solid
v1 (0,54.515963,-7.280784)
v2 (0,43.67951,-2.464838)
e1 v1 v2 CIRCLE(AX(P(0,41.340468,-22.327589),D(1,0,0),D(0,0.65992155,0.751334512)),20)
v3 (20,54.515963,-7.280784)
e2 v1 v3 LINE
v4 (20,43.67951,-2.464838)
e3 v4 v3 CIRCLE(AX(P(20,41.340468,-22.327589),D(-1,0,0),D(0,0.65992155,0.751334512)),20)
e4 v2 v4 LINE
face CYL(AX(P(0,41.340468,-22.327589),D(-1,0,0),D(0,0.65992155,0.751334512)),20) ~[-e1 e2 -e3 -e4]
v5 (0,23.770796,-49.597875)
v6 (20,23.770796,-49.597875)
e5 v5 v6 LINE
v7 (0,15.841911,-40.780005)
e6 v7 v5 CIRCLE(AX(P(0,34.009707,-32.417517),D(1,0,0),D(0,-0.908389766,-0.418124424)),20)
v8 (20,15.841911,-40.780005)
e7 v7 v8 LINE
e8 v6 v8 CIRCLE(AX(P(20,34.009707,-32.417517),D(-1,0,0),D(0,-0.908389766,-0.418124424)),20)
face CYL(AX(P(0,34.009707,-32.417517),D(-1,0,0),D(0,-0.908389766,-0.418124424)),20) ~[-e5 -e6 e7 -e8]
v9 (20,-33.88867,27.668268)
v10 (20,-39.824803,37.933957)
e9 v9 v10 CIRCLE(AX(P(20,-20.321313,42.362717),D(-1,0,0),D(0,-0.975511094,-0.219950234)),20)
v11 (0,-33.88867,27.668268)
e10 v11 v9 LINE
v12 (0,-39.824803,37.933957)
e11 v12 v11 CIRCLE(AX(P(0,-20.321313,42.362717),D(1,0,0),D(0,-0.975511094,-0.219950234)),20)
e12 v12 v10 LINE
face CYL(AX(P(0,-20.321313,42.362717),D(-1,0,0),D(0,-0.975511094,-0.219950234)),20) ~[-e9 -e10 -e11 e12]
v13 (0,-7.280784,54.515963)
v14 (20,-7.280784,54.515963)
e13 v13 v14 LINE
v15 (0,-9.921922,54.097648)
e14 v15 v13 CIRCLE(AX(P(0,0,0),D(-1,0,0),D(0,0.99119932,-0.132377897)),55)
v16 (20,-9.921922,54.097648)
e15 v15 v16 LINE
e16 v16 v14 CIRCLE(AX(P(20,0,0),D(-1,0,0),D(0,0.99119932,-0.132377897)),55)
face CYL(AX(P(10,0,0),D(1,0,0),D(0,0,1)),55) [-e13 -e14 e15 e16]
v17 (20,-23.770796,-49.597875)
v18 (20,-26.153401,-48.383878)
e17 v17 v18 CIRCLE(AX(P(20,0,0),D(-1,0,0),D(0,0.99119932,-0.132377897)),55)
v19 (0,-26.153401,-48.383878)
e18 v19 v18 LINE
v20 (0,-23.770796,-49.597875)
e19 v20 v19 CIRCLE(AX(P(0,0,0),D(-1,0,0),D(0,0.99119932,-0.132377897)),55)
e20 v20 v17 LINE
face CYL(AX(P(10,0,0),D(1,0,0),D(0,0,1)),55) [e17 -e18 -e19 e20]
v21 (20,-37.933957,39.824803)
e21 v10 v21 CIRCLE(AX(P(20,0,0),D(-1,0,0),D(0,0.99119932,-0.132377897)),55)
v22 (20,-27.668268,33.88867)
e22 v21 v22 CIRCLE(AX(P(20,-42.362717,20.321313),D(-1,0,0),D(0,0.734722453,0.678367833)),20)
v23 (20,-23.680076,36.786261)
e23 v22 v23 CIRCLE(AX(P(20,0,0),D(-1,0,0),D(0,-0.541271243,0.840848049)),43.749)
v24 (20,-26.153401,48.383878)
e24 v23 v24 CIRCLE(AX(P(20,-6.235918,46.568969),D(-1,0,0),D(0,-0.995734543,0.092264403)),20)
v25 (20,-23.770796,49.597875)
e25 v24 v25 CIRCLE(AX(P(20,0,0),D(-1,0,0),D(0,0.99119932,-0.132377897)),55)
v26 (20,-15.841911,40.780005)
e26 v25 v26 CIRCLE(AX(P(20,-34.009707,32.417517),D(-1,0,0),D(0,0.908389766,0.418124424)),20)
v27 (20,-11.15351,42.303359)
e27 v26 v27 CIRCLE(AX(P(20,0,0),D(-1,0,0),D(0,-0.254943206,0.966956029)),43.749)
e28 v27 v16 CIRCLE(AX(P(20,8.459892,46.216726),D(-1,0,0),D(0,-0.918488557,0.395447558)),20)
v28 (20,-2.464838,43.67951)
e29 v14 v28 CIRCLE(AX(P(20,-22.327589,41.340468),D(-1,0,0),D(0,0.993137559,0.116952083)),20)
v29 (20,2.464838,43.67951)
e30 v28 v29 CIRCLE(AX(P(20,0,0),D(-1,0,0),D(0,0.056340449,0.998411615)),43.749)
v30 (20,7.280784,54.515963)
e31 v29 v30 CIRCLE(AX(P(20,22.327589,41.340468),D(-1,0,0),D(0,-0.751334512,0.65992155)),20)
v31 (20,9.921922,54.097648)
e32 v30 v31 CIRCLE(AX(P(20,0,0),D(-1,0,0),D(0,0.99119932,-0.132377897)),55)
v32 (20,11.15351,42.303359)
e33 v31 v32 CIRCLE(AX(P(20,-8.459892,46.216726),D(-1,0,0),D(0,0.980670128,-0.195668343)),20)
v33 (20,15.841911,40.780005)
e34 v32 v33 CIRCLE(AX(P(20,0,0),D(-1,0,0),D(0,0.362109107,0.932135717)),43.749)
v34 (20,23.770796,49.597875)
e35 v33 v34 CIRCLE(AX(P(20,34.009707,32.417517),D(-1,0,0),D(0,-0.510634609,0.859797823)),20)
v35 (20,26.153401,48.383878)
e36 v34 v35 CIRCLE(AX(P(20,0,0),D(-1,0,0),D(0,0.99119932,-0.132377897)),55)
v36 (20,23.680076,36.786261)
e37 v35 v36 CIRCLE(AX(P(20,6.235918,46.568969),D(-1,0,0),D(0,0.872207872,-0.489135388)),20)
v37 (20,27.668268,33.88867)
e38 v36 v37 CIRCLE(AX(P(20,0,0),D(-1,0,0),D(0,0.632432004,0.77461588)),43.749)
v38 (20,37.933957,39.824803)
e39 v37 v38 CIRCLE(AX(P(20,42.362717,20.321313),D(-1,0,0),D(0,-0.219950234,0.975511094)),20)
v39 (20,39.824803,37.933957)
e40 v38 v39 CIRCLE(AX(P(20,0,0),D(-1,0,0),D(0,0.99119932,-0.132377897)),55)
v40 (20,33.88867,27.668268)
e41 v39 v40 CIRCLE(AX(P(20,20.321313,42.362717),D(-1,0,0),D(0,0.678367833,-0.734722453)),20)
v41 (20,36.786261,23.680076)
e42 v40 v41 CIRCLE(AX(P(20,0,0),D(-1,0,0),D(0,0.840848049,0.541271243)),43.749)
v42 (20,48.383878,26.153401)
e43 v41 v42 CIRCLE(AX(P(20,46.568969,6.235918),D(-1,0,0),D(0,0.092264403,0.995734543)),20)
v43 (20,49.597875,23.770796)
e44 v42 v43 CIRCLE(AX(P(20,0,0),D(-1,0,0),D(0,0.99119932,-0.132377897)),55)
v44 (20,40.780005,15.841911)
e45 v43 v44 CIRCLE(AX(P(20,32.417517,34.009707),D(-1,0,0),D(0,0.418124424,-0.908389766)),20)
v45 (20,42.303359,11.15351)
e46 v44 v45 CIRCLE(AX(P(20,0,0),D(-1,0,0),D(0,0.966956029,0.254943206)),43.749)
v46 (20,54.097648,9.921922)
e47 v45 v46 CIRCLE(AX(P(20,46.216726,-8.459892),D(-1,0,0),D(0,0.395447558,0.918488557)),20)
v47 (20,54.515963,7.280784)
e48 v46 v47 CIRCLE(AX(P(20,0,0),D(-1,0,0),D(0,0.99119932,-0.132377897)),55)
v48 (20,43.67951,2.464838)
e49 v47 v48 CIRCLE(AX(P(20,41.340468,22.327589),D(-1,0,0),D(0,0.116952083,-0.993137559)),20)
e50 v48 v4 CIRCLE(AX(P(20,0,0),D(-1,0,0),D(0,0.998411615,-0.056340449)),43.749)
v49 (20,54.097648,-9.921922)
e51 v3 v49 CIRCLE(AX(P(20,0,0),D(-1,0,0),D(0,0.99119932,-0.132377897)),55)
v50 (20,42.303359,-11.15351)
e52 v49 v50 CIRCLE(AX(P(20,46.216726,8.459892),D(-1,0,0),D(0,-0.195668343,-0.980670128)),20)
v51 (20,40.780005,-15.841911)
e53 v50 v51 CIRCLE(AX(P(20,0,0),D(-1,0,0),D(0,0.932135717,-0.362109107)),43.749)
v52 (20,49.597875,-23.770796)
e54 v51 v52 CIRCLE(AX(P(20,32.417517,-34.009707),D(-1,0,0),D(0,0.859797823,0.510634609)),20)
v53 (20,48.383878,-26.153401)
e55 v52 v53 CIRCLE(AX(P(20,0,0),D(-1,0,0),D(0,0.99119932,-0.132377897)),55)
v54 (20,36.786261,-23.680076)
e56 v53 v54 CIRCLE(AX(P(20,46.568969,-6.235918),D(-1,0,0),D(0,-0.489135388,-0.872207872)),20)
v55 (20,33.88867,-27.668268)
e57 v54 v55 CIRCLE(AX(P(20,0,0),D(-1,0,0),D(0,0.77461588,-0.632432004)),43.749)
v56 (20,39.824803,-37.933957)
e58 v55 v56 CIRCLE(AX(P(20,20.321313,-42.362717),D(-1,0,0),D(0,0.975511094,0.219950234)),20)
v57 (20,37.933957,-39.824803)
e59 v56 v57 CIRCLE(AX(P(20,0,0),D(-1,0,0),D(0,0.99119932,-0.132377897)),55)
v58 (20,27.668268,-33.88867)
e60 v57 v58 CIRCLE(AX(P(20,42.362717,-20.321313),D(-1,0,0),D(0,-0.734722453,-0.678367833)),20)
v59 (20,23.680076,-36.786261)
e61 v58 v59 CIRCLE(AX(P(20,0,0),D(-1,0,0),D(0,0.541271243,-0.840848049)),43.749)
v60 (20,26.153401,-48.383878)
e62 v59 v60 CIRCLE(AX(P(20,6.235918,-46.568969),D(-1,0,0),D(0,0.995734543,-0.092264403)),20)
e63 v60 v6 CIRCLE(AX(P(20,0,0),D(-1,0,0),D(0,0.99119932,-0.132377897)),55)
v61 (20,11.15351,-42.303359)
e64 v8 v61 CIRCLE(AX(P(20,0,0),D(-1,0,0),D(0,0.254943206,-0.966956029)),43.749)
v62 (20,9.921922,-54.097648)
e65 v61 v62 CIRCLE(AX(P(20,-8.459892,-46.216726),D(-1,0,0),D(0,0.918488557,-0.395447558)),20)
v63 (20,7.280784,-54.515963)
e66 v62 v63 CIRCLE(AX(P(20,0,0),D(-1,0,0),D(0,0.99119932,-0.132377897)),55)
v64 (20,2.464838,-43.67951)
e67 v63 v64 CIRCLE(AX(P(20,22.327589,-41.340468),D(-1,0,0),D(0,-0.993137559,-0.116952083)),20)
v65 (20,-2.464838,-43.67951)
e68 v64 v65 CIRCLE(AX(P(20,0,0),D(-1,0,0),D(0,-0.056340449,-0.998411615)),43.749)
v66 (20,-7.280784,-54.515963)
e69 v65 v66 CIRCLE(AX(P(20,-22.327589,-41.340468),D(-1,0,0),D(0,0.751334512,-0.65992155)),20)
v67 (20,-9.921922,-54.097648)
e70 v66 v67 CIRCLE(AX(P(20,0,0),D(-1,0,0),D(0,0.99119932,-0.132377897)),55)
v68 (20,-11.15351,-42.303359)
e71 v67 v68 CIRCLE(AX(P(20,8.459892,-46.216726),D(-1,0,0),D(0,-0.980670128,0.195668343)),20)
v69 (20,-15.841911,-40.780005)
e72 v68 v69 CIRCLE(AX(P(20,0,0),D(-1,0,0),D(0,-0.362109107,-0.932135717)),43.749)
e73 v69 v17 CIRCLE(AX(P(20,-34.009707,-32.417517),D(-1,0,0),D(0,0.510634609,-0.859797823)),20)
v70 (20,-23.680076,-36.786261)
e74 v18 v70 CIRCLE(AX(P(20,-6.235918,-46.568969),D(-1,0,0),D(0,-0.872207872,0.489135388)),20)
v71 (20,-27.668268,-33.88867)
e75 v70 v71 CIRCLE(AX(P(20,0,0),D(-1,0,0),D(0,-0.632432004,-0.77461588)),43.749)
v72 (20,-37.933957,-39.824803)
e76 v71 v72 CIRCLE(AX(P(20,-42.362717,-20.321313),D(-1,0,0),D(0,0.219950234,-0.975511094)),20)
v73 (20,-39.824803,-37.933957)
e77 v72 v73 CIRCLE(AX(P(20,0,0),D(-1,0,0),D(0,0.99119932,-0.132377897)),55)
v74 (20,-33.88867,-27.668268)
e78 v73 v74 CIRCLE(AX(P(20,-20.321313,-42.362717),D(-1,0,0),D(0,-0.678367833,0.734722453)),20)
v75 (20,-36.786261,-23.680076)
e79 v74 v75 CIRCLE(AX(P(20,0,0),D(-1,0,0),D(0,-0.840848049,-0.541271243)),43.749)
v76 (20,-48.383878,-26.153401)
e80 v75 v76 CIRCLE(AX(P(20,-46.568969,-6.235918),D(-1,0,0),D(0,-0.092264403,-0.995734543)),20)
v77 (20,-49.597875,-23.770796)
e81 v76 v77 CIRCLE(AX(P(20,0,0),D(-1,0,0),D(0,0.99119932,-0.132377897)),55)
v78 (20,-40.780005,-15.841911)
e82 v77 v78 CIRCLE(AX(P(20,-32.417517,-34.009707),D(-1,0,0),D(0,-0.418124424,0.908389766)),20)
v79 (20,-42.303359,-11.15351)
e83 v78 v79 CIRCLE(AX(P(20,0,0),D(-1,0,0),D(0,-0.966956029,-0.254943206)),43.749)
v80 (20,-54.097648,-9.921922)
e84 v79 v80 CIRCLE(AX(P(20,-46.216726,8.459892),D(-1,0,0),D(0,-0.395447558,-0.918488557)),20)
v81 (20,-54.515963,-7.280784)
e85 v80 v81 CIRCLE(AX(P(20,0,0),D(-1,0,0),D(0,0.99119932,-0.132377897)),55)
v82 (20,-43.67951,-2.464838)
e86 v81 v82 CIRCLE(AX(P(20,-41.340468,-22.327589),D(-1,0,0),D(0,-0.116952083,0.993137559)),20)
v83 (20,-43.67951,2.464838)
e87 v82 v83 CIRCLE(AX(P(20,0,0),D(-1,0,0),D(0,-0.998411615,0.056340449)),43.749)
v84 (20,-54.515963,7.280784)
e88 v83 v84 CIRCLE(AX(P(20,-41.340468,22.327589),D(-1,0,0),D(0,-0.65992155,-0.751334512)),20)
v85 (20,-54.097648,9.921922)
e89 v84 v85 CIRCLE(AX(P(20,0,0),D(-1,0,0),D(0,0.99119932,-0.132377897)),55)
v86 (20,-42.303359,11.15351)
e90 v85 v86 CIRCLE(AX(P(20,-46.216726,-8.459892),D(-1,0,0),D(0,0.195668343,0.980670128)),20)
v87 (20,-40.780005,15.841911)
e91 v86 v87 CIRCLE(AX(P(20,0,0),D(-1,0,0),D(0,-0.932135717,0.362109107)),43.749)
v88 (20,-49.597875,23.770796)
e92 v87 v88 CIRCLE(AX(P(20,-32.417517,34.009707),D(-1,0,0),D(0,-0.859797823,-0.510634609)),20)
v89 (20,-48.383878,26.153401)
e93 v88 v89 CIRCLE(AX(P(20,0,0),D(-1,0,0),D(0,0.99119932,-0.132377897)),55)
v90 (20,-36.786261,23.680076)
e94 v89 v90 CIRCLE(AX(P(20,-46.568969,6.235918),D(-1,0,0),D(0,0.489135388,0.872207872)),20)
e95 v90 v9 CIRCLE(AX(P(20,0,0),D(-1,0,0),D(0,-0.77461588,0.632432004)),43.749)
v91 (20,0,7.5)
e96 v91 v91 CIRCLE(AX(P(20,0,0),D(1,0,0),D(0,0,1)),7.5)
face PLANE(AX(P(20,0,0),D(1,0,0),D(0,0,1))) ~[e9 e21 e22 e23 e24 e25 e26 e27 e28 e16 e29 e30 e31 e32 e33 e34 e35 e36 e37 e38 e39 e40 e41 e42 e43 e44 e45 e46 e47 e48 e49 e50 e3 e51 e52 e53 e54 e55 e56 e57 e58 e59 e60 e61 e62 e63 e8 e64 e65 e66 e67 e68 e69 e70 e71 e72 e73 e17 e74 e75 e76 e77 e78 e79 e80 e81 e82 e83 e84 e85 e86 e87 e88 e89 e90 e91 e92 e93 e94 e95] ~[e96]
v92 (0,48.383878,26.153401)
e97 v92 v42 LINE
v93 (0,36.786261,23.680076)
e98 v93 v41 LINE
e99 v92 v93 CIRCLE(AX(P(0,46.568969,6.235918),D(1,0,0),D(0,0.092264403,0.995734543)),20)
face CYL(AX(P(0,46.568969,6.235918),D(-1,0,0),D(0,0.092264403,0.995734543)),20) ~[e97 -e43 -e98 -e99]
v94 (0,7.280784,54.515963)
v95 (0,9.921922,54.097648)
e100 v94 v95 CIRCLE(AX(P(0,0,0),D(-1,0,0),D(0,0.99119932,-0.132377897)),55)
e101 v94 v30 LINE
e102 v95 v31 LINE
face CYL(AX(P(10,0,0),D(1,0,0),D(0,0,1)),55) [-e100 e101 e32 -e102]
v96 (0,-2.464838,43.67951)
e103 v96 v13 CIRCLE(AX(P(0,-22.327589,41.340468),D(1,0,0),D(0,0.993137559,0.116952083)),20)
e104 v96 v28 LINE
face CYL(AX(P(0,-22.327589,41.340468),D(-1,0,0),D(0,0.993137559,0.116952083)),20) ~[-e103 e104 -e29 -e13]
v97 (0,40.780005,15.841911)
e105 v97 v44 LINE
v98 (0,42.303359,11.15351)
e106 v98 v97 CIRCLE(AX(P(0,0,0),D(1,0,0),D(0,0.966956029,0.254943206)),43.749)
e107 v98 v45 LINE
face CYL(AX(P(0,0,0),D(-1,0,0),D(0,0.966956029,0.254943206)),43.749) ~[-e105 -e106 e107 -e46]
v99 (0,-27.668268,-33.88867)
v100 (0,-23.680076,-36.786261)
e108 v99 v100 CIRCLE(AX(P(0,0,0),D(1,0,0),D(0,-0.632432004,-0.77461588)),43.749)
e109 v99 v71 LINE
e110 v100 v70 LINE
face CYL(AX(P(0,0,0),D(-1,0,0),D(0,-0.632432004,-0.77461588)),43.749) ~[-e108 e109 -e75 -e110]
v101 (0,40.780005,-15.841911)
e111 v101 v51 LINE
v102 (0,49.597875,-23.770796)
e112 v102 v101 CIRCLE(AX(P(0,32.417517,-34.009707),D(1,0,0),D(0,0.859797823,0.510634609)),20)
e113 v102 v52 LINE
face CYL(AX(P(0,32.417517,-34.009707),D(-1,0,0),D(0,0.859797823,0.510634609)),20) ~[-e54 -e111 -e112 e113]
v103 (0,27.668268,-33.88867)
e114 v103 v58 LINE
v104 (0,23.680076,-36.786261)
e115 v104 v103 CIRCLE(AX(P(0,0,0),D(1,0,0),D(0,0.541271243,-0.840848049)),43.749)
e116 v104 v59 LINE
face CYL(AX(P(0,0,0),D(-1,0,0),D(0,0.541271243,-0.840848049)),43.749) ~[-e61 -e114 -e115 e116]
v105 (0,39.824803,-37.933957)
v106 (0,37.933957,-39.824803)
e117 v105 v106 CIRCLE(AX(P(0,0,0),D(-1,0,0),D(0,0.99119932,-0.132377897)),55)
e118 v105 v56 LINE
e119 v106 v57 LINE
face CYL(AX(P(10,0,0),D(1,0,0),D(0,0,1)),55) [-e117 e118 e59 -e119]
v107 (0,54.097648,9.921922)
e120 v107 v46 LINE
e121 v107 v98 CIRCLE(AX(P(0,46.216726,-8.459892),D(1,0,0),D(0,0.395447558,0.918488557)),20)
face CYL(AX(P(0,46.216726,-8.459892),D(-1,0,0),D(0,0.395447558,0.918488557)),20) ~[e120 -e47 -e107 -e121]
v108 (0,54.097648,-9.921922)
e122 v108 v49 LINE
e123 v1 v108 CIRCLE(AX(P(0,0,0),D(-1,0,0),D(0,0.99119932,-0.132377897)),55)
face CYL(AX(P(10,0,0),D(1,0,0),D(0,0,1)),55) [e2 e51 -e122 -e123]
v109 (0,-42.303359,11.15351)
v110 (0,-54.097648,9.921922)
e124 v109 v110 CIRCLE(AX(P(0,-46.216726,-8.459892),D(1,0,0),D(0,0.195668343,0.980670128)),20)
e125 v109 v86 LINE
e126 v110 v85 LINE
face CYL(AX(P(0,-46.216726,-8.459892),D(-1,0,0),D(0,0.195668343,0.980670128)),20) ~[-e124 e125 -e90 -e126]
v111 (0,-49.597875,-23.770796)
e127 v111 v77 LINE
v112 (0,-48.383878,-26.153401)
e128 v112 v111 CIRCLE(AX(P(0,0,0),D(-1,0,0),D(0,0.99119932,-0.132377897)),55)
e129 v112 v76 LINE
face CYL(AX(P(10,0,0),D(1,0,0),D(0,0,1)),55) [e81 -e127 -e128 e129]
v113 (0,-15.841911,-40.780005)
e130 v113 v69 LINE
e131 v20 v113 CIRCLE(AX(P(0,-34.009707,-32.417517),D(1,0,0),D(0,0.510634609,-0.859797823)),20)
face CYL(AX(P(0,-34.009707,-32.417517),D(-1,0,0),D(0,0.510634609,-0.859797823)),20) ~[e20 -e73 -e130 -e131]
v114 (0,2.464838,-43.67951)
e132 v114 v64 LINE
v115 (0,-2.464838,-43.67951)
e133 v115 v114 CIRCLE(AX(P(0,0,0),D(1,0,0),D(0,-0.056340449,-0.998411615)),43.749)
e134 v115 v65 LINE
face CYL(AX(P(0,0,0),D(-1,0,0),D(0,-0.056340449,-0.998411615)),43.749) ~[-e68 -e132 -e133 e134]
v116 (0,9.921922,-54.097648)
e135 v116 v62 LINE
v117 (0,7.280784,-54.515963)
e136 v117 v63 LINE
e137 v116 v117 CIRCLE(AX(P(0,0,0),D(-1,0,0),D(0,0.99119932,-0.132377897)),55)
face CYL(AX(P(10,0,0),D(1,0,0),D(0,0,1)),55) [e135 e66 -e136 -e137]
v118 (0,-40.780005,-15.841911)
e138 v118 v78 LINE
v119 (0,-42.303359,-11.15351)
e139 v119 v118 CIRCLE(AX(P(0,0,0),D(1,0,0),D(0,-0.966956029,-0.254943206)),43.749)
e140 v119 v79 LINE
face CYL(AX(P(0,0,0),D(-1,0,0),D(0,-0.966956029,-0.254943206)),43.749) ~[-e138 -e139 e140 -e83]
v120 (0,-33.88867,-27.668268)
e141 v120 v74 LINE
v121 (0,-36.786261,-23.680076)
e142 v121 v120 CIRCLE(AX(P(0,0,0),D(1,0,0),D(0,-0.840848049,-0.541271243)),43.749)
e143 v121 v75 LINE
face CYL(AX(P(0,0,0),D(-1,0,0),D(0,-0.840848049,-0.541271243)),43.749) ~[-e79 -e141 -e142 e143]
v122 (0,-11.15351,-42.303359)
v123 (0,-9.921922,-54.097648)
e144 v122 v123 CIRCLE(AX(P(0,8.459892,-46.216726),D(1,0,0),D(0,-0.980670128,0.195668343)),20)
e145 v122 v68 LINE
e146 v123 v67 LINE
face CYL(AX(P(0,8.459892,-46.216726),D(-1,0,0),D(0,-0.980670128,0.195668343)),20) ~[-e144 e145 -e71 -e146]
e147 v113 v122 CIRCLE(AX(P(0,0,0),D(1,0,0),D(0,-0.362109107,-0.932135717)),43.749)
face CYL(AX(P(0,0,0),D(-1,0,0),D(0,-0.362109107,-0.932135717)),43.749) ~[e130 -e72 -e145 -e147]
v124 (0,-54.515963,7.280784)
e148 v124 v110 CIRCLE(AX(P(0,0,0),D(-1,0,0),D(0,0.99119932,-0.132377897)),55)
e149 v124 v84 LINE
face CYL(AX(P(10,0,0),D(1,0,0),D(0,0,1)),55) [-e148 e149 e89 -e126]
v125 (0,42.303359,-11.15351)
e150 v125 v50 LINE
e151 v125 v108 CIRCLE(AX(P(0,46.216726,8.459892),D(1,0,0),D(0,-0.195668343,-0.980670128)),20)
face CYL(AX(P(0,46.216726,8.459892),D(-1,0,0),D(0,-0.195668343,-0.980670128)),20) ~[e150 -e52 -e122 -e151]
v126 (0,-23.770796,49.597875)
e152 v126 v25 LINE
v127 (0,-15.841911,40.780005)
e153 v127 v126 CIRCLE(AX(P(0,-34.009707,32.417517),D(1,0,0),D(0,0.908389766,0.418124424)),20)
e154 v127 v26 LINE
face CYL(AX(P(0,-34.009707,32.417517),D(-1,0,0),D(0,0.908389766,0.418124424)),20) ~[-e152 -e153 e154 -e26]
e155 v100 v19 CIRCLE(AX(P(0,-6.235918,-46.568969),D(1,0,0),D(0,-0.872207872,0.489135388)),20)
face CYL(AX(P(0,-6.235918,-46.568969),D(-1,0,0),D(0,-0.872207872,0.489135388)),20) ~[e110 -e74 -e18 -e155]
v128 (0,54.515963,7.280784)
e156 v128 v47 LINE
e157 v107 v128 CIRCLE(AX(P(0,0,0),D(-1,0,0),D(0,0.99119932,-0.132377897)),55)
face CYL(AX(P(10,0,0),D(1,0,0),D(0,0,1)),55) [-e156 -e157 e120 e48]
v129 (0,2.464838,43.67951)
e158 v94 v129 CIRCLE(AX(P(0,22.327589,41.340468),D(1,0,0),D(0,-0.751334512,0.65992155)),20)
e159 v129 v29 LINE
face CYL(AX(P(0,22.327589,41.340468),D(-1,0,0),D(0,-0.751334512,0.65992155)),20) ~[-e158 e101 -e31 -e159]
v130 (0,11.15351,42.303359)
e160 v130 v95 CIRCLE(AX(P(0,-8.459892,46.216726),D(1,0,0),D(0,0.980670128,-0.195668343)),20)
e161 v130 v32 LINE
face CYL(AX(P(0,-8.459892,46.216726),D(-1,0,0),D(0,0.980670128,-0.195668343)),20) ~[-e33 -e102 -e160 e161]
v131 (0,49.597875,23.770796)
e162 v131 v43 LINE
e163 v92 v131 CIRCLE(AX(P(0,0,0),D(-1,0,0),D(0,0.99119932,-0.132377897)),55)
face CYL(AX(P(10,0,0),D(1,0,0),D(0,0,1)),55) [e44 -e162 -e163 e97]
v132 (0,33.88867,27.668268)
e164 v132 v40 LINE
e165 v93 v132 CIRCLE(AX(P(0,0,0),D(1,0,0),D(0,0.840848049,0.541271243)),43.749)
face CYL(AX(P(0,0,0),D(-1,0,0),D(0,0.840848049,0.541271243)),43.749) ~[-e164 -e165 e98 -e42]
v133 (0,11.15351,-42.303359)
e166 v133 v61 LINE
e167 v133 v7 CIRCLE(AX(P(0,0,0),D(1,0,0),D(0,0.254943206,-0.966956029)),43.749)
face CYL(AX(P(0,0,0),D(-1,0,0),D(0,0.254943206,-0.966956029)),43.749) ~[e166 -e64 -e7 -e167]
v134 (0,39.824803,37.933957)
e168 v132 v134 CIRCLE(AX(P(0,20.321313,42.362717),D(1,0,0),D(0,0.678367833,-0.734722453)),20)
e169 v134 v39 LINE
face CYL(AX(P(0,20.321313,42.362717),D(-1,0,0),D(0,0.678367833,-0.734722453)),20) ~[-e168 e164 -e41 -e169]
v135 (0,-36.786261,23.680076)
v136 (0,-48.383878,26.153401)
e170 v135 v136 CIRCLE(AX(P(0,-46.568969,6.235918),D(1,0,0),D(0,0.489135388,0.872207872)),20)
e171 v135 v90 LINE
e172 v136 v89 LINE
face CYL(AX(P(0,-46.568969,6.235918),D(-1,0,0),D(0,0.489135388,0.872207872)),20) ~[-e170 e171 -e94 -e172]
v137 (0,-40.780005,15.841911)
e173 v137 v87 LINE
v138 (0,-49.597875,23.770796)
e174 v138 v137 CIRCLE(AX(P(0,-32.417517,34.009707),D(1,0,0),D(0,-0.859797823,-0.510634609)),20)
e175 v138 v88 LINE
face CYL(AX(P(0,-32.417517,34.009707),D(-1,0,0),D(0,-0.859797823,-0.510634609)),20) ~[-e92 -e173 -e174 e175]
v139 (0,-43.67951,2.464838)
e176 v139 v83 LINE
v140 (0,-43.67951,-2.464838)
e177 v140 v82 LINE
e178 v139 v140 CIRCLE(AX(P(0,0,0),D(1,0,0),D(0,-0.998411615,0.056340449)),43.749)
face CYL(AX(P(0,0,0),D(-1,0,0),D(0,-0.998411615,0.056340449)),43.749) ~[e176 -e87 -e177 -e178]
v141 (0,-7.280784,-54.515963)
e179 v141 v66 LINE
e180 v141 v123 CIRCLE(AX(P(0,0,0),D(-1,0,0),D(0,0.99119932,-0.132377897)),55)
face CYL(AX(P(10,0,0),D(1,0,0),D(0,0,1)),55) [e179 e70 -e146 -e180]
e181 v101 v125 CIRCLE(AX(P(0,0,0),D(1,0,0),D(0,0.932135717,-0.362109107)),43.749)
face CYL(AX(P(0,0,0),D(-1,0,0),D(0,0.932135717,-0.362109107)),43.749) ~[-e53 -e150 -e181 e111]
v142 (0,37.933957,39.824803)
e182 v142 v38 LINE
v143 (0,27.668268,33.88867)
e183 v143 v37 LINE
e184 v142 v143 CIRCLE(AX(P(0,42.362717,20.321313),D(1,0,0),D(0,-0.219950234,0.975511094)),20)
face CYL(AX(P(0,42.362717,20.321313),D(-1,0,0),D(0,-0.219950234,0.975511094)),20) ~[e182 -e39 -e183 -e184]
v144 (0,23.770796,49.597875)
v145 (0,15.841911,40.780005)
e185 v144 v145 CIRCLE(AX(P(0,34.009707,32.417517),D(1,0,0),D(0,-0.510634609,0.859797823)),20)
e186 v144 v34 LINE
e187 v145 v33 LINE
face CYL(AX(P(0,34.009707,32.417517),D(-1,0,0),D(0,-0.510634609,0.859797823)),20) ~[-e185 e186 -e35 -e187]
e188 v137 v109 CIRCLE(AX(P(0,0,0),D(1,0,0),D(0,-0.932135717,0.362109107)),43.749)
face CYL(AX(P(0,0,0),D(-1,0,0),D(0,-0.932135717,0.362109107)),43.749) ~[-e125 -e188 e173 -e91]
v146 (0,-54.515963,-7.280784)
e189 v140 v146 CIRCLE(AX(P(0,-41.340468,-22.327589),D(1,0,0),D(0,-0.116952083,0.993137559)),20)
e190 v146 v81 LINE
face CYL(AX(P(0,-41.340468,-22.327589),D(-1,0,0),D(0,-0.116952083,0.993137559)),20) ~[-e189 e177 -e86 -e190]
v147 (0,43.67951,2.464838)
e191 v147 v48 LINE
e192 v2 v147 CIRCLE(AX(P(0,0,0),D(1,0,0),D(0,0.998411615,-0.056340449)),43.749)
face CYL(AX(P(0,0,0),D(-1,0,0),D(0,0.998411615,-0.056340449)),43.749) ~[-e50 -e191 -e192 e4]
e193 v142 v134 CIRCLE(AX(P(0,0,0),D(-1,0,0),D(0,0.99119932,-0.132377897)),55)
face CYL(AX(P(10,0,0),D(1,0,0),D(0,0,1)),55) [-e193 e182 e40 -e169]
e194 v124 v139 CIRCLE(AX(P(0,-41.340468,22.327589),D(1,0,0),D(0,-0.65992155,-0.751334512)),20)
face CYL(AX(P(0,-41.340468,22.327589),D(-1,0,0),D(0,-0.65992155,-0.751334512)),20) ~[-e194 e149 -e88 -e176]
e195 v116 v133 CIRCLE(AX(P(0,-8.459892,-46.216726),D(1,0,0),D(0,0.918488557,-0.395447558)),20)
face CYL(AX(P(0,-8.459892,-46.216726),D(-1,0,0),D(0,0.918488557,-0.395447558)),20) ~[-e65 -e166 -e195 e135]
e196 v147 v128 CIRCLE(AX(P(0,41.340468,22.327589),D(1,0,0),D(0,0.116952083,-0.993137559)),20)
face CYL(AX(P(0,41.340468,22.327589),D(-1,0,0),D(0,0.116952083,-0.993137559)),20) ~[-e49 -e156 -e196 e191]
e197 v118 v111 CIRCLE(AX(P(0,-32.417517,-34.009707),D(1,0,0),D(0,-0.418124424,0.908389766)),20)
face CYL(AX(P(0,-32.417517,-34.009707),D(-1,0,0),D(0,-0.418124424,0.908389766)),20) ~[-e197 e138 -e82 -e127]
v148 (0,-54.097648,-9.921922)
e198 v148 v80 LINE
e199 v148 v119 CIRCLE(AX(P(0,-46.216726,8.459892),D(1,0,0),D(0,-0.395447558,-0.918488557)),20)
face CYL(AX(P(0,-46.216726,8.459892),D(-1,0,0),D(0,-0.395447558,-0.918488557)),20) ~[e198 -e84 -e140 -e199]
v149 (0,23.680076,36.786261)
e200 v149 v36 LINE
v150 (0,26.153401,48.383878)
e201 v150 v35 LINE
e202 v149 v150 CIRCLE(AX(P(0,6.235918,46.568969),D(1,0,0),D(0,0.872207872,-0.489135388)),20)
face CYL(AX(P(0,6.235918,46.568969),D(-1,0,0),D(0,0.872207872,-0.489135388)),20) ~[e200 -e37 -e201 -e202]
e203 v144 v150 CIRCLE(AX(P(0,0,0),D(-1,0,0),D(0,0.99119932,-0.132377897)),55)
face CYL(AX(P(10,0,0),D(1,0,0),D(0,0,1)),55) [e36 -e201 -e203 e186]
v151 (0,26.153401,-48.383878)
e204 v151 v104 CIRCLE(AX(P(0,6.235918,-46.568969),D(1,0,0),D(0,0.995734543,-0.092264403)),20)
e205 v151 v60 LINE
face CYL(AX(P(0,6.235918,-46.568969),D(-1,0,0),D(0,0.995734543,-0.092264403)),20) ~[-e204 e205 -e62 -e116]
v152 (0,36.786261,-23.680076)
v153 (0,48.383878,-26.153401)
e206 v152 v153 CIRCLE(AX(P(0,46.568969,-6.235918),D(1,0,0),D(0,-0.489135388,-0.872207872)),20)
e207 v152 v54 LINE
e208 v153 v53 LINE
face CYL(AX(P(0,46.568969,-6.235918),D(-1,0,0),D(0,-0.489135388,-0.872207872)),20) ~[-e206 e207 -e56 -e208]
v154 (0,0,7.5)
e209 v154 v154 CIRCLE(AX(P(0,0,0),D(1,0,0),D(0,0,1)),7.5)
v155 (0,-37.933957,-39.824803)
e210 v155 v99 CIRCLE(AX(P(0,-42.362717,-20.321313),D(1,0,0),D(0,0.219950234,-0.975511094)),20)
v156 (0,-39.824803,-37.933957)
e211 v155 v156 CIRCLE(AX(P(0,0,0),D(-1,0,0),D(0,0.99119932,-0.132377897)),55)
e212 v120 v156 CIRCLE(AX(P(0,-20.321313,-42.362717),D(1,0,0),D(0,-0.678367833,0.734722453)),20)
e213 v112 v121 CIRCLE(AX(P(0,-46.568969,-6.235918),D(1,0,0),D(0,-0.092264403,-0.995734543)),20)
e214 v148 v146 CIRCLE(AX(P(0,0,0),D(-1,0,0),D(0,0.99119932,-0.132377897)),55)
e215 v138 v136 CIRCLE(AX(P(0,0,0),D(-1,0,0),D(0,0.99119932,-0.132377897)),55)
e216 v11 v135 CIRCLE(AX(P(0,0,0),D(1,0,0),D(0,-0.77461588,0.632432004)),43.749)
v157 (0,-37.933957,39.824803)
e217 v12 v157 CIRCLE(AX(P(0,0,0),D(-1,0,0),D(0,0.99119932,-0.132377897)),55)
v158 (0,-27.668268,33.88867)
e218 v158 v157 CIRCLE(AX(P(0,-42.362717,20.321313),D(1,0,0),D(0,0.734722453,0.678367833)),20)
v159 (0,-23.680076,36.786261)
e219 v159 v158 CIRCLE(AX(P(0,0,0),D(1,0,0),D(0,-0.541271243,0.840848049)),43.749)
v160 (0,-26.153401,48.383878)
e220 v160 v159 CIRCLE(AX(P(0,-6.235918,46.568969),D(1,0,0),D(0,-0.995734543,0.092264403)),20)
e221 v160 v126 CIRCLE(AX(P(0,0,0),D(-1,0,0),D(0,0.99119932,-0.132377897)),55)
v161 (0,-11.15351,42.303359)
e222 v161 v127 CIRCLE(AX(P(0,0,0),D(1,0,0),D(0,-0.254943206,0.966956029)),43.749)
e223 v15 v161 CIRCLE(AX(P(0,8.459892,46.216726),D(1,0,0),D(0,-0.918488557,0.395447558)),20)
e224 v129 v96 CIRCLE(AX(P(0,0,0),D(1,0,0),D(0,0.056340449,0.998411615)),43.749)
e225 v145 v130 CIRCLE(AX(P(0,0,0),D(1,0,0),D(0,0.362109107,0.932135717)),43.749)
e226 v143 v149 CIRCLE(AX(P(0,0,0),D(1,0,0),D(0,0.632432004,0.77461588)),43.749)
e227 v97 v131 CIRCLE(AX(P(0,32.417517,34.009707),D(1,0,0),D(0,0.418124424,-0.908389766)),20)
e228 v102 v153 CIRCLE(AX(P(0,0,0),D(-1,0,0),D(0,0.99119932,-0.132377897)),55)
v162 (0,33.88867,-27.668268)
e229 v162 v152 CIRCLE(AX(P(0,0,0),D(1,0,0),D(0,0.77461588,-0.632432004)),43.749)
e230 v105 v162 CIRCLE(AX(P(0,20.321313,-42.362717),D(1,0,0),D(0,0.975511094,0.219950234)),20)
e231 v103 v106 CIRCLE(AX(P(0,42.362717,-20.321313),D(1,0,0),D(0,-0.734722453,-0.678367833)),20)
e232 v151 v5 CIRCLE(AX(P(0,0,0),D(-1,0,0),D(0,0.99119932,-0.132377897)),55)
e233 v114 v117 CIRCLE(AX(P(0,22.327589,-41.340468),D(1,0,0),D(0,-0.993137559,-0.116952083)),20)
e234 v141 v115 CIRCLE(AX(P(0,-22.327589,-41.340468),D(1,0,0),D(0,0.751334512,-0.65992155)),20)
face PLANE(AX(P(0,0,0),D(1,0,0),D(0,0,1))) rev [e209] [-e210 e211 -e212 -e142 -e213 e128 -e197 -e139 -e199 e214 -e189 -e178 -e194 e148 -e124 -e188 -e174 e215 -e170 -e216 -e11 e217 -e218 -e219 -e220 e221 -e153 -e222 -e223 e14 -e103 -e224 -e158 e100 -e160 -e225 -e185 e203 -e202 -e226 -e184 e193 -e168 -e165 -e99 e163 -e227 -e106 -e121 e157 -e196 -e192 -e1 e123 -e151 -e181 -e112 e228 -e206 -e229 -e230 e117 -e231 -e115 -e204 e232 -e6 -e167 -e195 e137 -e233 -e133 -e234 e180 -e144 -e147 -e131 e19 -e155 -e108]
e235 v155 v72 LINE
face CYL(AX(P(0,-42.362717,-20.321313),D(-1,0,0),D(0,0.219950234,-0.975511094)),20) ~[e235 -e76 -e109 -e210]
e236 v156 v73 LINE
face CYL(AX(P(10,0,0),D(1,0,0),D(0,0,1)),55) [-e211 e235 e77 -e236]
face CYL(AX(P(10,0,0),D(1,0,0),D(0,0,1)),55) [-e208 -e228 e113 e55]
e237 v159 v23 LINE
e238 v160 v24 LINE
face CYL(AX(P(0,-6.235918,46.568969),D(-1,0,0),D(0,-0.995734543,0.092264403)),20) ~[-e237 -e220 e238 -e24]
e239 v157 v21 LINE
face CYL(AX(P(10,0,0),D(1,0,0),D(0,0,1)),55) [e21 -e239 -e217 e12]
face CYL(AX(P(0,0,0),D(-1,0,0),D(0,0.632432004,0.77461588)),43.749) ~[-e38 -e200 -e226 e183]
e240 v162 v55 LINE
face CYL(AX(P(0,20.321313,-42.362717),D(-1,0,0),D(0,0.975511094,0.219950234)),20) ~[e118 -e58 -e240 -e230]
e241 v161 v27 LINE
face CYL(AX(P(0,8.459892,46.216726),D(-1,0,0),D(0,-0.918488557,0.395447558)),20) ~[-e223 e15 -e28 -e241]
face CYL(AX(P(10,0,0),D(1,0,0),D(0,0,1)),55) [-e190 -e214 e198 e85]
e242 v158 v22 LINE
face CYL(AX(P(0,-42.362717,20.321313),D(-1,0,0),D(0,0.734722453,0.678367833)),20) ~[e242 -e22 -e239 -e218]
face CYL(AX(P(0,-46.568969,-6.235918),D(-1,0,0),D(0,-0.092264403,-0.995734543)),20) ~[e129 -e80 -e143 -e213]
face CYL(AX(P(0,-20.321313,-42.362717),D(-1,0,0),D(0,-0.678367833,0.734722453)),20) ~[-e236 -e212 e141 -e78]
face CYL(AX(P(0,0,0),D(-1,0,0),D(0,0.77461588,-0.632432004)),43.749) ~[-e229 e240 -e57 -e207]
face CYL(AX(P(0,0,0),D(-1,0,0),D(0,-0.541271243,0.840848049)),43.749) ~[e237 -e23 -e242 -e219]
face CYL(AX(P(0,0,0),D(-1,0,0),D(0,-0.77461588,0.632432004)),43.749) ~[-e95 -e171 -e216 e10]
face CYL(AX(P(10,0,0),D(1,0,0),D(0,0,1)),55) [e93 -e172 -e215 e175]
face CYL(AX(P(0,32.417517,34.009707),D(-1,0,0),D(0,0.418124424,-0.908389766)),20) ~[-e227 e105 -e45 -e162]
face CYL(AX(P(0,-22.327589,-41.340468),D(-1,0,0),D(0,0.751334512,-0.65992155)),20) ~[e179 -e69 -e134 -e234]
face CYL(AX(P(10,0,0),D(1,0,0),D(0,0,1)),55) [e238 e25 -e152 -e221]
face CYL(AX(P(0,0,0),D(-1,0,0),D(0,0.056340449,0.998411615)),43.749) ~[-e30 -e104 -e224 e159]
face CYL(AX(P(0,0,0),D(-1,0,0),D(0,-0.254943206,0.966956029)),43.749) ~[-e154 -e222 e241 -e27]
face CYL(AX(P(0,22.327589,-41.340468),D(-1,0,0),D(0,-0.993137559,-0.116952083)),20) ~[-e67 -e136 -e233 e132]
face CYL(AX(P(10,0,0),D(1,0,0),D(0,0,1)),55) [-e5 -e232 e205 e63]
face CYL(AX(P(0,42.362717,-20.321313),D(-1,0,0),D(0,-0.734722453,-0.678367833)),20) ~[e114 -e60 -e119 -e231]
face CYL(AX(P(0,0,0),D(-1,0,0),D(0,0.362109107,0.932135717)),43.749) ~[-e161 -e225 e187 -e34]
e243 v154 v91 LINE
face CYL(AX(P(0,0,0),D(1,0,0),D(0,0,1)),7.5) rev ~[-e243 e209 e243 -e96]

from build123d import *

# Parameters (mm, degrees)
BASPROSKE_W     = 20
BASPROSKE_H     = 55
TOOTHCUT_DEPTH  = 81.311892021
TEETHCUTS_COUNT = 20
TEETHCUTS_ANGLE = 342
BORSKE_R        = 7.5
BORE_DEPTH      = 50.0000508


with BuildPart() as part:
    # BasProSke → Base-Revolve (revolve)
    with BuildSketch(Plane(origin=(0, 0, 0), x_dir=(1, 0, 0), z_dir=(0, 1, 0))):
        with Locations((10, 27.5)):
            Rectangle(BASPROSKE_W, BASPROSKE_H)
    revolve(axis=Axis((-10, 0, 0), (1, 0, 0)))

    # TooCutSke → ToothCut (cut, through all)
    with BuildSketch(Plane(origin=(0, 0, 0), x_dir=(0, 0, -1), z_dir=(1, 0, 0))):
        with BuildLine():
            ThreePointArc((2.464838288, 43.679509764), (0, 43.749), (-2.464838288, 43.679509764))
            ThreePointArc((-2.464838288, 43.679509764), (-4.057398861, 49.476814676), (-7.300899231, 54.538899105))
            ThreePointArc((-7.300899231, 54.538899105), (0, 55.0254), (7.300899231, 54.538899105))
            ThreePointArc((7.300899231, 54.538899105), (4.057398861, 49.476814676), (2.464838288, 43.679509764))
        make_face()
    toothcut = extrude(amount=TOOTHCUT_DEPTH, mode=Mode.SUBTRACT)

    # TeethCuts: ToothCut ×20 about axis
    teethcuts_axis = Axis((-10, 0, 0), (1, 0, 0))
    for i in range(1, TEETHCUTS_COUNT):
        add(toothcut.rotate(teethcuts_axis, i * TEETHCUTS_ANGLE / (TEETHCUTS_COUNT - 1)), mode=Mode.SUBTRACT)

    # BorSke → Bore (cut, symmetric)
    with BuildSketch(Plane(origin=(0, 0, 0), x_dir=(0, 0, -1), z_dir=(1, 0, 0))):
        Circle(BORSKE_R)
    extrude(amount=BORE_DEPTH, both=True, mode=Mode.SUBTRACT)


solid = part.part
